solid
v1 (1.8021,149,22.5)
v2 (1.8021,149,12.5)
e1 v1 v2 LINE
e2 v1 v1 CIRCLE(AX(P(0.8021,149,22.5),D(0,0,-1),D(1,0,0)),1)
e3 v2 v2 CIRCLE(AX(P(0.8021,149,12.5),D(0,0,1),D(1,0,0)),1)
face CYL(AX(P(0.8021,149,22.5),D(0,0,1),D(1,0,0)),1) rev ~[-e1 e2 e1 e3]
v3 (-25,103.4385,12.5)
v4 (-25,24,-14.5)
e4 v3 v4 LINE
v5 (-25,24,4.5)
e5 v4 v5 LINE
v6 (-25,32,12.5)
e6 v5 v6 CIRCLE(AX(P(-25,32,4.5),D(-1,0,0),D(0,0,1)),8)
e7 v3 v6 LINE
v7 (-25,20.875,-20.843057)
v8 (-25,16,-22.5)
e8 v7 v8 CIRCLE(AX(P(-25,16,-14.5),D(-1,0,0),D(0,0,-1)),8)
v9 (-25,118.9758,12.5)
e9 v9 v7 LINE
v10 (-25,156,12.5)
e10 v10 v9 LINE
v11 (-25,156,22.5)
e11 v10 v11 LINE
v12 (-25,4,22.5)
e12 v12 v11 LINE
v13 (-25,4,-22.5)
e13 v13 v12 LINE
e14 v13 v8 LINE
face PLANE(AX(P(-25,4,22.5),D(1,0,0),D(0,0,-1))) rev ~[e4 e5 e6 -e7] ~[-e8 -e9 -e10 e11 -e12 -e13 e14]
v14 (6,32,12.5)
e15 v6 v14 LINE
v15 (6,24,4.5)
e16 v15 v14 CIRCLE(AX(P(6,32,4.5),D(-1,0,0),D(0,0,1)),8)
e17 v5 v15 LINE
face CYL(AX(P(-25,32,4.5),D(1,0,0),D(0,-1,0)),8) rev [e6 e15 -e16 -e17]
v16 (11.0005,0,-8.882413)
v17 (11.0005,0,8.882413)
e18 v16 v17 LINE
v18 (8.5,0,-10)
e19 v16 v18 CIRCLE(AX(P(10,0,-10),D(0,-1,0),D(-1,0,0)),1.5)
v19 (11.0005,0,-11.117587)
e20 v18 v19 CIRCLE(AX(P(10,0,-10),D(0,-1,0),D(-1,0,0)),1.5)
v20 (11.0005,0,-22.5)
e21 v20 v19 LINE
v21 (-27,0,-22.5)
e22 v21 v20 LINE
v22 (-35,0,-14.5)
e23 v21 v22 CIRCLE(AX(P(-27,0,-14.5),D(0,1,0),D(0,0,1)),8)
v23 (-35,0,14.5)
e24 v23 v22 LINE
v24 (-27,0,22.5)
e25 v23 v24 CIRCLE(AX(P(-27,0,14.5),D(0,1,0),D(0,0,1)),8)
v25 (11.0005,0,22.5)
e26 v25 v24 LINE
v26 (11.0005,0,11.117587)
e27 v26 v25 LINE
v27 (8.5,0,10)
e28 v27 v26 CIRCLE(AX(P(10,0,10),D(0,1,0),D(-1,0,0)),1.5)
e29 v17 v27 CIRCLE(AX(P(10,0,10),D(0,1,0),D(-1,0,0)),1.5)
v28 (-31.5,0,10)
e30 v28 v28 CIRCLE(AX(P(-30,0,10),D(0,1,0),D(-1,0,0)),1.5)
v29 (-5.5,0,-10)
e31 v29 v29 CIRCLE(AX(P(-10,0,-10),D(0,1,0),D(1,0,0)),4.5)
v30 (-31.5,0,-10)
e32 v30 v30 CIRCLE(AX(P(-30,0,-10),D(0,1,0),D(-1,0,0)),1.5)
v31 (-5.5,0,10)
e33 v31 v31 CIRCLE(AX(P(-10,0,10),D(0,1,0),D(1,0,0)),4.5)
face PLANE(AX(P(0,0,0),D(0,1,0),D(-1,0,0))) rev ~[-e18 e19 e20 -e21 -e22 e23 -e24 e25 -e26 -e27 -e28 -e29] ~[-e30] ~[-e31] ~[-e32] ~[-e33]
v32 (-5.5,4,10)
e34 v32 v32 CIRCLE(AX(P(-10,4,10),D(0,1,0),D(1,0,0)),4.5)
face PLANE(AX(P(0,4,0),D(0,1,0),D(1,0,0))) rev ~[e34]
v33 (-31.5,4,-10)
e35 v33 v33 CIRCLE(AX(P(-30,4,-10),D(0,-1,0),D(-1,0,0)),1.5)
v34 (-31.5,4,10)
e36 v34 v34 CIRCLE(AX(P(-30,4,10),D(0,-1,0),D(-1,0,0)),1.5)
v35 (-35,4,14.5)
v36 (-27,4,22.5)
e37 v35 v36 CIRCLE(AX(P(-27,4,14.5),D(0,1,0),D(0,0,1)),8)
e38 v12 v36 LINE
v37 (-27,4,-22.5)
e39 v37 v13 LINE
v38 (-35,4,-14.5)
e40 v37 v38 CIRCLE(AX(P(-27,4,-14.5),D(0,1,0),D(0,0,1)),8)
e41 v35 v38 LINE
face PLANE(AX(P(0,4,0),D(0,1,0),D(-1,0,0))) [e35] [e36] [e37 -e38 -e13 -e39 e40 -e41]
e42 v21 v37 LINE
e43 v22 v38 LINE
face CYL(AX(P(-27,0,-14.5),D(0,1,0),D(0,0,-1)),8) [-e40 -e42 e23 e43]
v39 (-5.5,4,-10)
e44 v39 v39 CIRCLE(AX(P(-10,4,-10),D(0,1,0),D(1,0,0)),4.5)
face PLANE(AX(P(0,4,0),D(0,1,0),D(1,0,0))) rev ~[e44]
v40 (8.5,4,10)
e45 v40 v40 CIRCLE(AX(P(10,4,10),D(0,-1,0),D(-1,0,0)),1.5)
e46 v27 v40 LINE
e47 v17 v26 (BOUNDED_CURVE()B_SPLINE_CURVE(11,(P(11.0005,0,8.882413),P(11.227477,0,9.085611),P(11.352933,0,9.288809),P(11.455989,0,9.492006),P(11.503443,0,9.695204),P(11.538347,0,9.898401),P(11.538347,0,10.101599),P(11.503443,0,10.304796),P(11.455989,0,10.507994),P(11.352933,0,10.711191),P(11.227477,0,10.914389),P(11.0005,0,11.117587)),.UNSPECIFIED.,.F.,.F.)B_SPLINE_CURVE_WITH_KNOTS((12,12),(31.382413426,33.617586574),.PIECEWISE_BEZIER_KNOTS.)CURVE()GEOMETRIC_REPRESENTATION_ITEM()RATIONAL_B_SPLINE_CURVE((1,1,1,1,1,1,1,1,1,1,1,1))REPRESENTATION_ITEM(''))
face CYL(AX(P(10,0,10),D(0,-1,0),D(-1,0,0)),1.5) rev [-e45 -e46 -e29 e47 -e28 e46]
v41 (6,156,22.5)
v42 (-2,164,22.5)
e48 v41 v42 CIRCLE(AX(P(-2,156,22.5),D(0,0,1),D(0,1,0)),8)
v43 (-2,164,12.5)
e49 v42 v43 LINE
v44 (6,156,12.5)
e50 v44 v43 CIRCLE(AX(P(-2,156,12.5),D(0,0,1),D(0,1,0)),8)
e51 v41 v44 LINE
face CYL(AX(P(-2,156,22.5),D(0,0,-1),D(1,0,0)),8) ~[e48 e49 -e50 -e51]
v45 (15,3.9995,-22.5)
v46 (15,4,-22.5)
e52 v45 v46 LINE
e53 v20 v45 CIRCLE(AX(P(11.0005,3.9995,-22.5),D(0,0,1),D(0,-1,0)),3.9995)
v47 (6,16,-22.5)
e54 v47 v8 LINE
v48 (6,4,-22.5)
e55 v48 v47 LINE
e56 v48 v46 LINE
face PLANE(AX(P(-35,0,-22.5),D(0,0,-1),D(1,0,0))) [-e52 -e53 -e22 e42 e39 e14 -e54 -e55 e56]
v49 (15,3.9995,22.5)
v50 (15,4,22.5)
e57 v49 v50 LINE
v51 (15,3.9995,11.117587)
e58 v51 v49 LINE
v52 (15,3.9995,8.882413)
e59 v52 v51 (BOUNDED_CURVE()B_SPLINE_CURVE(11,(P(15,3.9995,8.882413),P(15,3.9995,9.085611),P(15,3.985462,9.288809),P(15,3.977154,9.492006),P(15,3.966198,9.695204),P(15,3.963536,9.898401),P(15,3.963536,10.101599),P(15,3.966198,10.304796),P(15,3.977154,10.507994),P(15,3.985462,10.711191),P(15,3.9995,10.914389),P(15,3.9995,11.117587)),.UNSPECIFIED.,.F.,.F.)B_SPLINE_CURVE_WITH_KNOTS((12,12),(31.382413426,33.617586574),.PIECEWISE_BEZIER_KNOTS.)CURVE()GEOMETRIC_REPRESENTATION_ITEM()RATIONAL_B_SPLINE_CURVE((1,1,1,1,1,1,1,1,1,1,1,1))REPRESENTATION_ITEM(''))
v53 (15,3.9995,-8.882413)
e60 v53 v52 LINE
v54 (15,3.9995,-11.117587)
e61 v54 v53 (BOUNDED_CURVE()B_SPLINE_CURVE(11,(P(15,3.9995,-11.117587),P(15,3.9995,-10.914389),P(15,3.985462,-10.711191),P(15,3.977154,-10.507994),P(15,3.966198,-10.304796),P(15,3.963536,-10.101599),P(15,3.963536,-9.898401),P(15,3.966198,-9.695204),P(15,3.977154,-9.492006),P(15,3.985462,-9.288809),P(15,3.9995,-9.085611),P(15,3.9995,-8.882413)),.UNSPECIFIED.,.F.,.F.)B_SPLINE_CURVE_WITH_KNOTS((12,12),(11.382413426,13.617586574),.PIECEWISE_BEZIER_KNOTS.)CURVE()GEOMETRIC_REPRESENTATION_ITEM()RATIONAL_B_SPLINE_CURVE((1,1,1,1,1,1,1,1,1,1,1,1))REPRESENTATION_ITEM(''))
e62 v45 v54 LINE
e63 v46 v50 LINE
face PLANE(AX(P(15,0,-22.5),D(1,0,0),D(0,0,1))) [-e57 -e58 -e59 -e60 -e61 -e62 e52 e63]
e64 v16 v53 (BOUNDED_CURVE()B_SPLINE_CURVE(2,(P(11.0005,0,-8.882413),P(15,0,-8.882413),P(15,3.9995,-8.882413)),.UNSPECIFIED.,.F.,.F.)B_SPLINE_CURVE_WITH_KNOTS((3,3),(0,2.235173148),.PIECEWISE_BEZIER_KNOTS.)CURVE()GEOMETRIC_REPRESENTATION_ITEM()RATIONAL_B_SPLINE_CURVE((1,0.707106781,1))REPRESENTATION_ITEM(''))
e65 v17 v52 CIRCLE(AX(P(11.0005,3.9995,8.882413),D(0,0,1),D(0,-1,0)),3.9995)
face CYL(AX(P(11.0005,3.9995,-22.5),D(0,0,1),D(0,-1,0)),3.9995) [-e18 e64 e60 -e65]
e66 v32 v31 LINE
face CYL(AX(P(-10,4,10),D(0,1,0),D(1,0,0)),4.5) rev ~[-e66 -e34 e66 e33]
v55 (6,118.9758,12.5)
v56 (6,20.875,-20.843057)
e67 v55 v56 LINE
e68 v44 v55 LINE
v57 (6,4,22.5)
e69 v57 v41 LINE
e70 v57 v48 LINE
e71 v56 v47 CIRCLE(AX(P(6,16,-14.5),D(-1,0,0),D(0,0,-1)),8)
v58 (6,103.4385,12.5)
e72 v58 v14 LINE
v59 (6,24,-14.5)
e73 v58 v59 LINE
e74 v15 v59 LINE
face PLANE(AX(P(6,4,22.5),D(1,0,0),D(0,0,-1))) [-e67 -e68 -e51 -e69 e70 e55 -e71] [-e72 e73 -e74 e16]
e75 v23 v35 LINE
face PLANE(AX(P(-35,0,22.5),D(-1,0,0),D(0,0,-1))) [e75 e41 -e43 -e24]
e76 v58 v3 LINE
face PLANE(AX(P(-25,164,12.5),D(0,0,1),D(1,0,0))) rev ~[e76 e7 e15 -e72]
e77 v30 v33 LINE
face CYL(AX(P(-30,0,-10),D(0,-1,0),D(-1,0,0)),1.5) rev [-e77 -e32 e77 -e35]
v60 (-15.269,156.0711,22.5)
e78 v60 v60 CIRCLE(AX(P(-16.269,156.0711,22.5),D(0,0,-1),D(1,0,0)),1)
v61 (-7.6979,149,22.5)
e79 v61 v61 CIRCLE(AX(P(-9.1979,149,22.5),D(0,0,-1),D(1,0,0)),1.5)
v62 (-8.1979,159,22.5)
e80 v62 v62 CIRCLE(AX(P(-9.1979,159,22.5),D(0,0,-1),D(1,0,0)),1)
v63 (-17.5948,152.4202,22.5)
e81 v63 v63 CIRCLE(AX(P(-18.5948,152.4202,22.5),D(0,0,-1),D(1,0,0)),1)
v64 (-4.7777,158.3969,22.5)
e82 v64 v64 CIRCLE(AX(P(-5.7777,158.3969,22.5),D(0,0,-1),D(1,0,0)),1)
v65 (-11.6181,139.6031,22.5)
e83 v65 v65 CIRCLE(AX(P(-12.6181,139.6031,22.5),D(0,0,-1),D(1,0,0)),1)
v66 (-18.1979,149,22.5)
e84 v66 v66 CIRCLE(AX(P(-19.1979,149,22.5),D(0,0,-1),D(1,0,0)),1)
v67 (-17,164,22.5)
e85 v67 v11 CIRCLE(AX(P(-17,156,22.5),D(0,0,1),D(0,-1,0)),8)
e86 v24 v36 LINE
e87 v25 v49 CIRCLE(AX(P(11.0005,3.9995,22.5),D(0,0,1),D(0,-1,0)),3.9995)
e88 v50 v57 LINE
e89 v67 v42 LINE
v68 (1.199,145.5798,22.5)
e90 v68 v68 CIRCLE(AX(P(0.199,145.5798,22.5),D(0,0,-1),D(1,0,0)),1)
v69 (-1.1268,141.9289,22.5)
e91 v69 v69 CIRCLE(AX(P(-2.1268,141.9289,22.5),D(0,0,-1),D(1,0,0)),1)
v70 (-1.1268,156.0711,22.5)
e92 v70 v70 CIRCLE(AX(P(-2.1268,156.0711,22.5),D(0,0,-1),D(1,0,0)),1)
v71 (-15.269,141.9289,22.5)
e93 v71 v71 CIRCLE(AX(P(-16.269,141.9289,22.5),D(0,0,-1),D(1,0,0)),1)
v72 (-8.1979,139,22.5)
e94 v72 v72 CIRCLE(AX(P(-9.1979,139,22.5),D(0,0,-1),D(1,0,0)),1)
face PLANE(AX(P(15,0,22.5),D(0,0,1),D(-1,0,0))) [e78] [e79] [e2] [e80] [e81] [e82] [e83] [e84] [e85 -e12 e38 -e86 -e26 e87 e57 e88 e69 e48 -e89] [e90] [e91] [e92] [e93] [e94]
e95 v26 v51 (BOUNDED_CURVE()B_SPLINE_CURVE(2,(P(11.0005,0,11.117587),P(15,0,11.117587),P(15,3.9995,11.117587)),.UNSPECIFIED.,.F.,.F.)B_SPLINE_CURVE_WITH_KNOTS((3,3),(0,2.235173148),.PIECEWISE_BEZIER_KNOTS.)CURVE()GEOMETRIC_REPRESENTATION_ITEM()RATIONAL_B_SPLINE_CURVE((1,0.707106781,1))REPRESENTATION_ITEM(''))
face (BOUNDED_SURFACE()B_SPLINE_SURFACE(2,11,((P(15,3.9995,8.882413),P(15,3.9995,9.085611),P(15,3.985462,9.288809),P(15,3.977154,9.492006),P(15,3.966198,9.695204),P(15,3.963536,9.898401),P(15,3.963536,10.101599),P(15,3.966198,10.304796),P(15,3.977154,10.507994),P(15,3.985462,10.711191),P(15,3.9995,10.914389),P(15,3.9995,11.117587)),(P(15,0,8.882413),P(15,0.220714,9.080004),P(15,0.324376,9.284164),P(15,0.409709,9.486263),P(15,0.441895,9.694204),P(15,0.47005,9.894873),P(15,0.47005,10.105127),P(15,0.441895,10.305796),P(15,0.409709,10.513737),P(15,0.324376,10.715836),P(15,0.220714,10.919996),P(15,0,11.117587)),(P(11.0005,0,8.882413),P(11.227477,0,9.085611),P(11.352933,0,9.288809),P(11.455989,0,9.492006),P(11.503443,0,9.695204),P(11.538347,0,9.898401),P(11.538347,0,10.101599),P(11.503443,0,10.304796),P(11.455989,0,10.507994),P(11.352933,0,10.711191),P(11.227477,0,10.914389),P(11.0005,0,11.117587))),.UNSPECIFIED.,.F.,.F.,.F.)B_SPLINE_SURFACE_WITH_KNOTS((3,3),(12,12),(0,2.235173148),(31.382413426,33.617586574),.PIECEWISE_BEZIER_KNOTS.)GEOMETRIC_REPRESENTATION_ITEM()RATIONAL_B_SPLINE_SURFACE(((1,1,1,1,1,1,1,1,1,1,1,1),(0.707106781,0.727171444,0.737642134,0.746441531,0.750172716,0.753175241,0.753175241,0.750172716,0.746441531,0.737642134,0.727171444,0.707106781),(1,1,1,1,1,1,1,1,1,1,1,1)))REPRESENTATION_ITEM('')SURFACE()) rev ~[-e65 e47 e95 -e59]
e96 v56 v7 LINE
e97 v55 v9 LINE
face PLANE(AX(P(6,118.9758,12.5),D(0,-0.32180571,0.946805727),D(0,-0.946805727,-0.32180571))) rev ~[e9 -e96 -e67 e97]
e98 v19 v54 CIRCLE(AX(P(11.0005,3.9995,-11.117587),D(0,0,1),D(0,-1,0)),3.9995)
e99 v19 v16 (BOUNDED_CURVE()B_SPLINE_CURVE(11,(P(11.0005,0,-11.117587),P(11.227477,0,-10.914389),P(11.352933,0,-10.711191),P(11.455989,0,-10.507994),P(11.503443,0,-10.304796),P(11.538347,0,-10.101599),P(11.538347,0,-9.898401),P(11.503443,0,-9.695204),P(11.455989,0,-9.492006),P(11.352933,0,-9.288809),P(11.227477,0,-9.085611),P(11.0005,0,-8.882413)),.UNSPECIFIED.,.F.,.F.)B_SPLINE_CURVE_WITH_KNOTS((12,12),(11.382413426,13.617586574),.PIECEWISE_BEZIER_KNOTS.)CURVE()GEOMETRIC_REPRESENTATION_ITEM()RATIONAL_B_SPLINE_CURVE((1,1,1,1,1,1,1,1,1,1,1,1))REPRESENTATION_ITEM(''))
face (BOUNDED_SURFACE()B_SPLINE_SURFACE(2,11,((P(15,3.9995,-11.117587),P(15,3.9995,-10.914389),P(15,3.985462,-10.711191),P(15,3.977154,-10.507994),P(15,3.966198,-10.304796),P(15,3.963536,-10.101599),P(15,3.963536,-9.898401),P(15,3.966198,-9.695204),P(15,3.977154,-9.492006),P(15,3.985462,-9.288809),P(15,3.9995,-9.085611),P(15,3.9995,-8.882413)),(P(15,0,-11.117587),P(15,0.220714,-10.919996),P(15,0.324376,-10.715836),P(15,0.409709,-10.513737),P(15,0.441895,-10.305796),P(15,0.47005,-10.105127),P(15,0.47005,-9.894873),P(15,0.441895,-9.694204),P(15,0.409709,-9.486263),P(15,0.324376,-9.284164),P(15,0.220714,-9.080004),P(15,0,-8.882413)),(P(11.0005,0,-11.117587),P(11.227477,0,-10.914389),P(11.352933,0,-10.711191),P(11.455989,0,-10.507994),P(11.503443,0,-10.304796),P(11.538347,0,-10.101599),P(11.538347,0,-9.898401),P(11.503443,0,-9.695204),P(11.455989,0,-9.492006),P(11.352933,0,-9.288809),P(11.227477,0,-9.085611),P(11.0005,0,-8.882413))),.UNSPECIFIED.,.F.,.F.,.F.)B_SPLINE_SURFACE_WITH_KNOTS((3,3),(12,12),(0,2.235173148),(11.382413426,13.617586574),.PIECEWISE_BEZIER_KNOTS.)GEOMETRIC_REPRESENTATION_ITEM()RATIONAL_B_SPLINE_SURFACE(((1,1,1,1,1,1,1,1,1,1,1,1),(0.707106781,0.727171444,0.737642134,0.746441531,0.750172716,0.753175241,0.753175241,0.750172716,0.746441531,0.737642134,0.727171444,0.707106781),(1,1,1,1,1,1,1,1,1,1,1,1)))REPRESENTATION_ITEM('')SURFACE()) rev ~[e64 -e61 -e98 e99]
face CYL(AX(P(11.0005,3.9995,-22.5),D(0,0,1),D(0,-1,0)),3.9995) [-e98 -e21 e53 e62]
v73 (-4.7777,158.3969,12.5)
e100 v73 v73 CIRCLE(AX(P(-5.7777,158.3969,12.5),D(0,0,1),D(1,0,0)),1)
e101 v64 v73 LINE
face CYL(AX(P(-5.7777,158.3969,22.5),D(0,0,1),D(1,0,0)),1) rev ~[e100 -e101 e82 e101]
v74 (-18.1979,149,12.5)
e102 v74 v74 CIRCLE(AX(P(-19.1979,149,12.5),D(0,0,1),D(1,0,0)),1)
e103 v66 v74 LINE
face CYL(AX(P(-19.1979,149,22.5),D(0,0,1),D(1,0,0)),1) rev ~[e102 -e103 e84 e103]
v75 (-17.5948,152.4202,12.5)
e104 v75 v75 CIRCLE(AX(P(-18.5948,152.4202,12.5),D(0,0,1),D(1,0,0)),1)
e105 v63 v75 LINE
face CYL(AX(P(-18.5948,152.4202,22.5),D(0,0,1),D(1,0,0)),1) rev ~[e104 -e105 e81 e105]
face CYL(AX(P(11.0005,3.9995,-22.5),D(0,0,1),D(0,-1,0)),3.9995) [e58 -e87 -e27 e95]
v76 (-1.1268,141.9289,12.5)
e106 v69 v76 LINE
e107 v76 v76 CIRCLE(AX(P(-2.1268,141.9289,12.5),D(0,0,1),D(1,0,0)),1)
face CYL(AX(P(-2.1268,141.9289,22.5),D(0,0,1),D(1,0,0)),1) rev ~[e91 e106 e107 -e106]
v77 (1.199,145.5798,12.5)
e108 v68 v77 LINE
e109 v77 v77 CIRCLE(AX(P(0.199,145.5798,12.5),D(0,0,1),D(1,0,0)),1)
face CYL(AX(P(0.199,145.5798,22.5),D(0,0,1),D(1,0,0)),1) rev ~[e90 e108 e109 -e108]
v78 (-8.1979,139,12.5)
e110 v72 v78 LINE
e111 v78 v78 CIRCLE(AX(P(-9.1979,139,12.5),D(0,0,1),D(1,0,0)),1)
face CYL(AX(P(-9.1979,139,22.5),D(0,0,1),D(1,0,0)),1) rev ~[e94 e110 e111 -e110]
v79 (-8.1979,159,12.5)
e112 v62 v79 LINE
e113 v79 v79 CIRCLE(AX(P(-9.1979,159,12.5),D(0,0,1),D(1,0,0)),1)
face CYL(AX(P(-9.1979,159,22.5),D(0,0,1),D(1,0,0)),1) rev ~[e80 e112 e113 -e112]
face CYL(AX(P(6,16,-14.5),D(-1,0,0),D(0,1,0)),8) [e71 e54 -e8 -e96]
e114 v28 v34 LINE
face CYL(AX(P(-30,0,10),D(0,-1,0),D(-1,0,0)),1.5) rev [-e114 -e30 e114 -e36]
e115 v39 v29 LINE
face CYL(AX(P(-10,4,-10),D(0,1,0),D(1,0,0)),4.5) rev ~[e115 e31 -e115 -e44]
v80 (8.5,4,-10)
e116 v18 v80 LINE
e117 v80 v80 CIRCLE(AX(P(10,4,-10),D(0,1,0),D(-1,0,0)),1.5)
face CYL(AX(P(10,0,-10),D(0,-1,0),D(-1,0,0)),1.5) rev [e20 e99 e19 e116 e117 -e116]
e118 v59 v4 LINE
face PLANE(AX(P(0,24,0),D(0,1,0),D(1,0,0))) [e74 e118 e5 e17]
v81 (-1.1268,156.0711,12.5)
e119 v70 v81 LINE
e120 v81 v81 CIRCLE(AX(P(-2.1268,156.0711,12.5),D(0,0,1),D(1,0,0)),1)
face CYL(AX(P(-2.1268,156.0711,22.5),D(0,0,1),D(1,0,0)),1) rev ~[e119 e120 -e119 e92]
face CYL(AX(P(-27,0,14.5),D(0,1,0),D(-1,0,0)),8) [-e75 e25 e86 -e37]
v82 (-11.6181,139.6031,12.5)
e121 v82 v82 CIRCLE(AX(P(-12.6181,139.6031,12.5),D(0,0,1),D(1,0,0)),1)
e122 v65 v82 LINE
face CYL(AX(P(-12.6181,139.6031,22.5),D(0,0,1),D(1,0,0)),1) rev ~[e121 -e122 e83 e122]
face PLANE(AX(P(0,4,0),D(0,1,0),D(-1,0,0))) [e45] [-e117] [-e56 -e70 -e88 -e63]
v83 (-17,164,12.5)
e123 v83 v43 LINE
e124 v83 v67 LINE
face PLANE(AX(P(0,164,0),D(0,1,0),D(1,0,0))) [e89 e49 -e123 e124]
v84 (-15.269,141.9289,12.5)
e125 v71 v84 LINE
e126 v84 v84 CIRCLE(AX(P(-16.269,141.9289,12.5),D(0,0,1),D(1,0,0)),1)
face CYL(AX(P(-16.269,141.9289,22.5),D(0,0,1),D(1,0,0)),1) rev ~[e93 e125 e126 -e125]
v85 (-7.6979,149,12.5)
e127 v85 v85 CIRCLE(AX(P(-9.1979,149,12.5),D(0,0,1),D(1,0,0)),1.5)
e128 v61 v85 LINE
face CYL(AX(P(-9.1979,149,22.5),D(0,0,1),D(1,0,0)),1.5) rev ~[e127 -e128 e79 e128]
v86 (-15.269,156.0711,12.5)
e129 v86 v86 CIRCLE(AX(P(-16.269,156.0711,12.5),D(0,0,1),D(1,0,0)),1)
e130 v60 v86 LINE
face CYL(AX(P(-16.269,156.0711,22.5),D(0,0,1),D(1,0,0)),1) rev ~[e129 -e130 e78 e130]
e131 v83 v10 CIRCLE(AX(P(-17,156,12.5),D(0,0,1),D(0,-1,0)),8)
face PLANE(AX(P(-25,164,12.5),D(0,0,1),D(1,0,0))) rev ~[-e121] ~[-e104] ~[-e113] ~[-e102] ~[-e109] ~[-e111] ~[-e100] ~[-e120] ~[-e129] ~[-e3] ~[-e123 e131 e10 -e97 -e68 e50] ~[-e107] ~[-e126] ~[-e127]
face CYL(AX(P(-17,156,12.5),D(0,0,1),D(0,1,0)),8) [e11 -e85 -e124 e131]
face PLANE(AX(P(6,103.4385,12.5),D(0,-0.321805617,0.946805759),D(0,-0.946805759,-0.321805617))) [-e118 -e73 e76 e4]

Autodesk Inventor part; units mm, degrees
ref_plane "YZ Plane" through (0, 0, 0) normal (1, 0, 0) x (0, 1, 0)
ref_plane "XZ Plane" through (0, 0, 0) normal (0, 1, 0) x (-1, 0, 0)
ref_plane "XY Plane" through (0, 0, 0) normal (0, 0, 1) x (1, 0, 0)
sketch "Sketch1" plane through (0, 0, 0) normal (0, 1, 0) x (-1, 0, 0)
  line L0 (-10, -10) -> (10, -10)
  line L1 (10, -10) -> (10, 10)
  line L2 (10, 10) -> (-10, 10)
  line L3 (-10, 10) -> (-10, -10)
  line L4 (-10, -10) -> (10, 10) construction
  line L5 (10, -10) -> (-10, 10) construction
  line L6 (10, 10) -> (30, 10)
  line L7 (30, 10) -> (30, -10)
  line L8 (30, -10) -> (10, -10)
  line L9 (10, -10) -> (10, 10)
  circle A0 centre (30, 10) radius 1.5
  circle A1 centre (30, -10) radius 1.5
  circle A2 centre (10, -10) radius 1.5
  circle A3 centre (10, 10) radius 1.5
  circle A4 centre (-10, 10) radius 1.5
  circle A5 centre (-10, -10) radius 1.5
  line L10 (-15, 22.5) -> (35, 22.5)
  line L11 (35, 22.5) -> (35, -22.5)
  line L12 (35, -22.5) -> (-15, -22.5)
  line L13 (-15, -22.5) -> (-15, 22.5)
  line L14 (-15, 22.5) -> (35, -22.5) construction
  line L15 (35, 22.5) -> (-15, -22.5) construction
  point P0 (0, 0)
  point P1 (10, 0)
  dimension "d0" = 20
  dimension "d1" = 20
  dimension "d2" = 20
  dimension "d3" = 20
  dimension "d4" = 3
  dimension "d5" = 3
  dimension "d6" = 3
  dimension "d7" = 3
  dimension "d8" = 3
  dimension "d9" = 3
  dimension "d10" = 5
  dimension "d11" = 12.5
extrude "Extrusion1" add sketch "Sketch1" along normal blind 4 contours A5 L3 A4 L2 A3 L1 A2 L0 | L1 A3 L6 A0 L7 A1 L8 A2 | L10 L11 L12 L13
fillet "Fillet1" radius 4 1 edges at (15, 0, 0)
sketch "Sketch2" plane through (0, 4, 0) normal (0, 1, 0) x (1, 0, 0)
  line L0 (-35, -22.5) -> (15, -22.5) projected
  line L1 (15, 22.5) -> (-35, 22.5) projected
  line L2 (-25, -22.5) -> (6, -22.5)
  line L3 (6, -22.5) -> (6, 22.5)
  line L4 (6, 22.5) -> (-25, 22.5)
  line L5 (-25, 22.5) -> (-25, -22.5)
  line L6 (-35, 22.5) -> (-35, -22.5) projected
  line L7 (15, -22.5) -> (15, 22.5) projected
  circle A0 centre (-10, -10) radius 1.5 projected
  circle A1 centre (-10, -10) radius 4.5
  circle A2 centre (-10, 10) radius 1.5 projected
  circle A3 centre (-10, 10) radius 4.5
  point P0 (0, 0)
  point P1 (-6.25, -15)
  point P2 (-13.75, -15)
  point P3 (-13.75, 15)
  point P4 (-6.25, 15)
  dimension "d15" = 10
  dimension "d16" = 9
  dimension "d17" = 9
  dimension "d18" = 9
extrude "Extrusion2" cut sketch "Sketch2" against normal blind 4 contours A0 | A1 | A3
extrude "Extrusion3" add sketch "Sketch2" along normal blind 160 contours L5 L1 L3 L0 | A0 | A1 | A2 | A3
fillet "Fillet2" radius 8 2 edges at (-35, 2, 22.5) (-35, 2, -22.5)
sketch "Sketch3" plane through (-25, 164, 22.5) normal (0, 0, 1) x (1, 0, 0)
  line L0 (31, 0) -> (0, 0) projected
  circle A0 centre (15.8021, -15) radius 10
  circle A1 centre (15.8021, -5) radius 1
  circle A2 centre (19.2223, -5.6031) radius 1
  circle A3 centre (22.8732, -7.9289) radius 1
  line L1 (15.8021, -15) -> (19.2223, -5.6031)
  line L2 (15.8021, -15) -> (22.8732, -7.9289)
  circle A4 centre (5.8021, -15) radius 1
  circle A5 centre (15.8021, -25) radius 1
  circle A6 centre (25.8021, -15) radius 1
  circle A7 centre (6.4052, -11.5798) radius 1
  circle A8 centre (12.3819, -24.3969) radius 1
  circle A9 centre (25.199, -18.4202) radius 1
  circle A10 centre (8.731, -7.9289) radius 1
  circle A11 centre (8.731, -22.0711) radius 1
  circle A12 centre (22.8732, -22.0711) radius 1
  line L3 (15.8021, -15) -> (15.8021, 0)
  point P0 (25, -164)
  dimension "d24" = 20
  dimension "d26" = 2
  dimension "d27" = 2
  dimension "d30" = 2
  dimension "d33" = 360
  dimension "d37" = 360
  dimension "d41" = 360
  dimension "d54" = 15
  dimension "d55" = 45
  dimension "d56" = 20
extrude "Extrusion4" cut sketch "Sketch3" against normal blind 100 contours A0 A6 | A0 A6 | A3 L2 A0 | A0 A3 | A9 A0 | A0 A9 | L2 A3 A0 | A12 A0 | A0 A12 | A2 L1 A0 | A0 A2 | A2 A0 L1 | L3 A0 A1 | A1 A0 L3 | A1 L3 A0 | A0 L3 A1 | A5 A0 | A0 A5 | A10 A0 | A0 A10 | A8 A0 | A0 A8 | A7 A0 | A0 A7 | A11 A0 | A0 A11 | A4 A0 | A0 A4
sketch "Sketch4" plane through (0, 164, 0) normal (0, 1, 0) x (1, 0, 0)
  line L0 (-25, 22.5) -> (-25, -22.5) projected
  line L1 (6, 22.5) -> (-25, 22.5) projected
  line L2 (-25, -12.5) -> (6, -12.5)
  line L3 (6, -12.5) -> (6, 22.5)
  line L4 (6, 22.5) -> (-25, 22.5)
  line L5 (-25, 22.5) -> (-25, -12.5)
  line L6 (-25, -22.5) -> (6, -22.5) projected
  point P0 (0, 0)
  dimension "d45" = 10
extrude "Extrusion5" cut sketch "Sketch4" against normal blind 140
fillet "Fillet3" radius 8 1 edges at (-9.5, 24, 12.5)
fillet "Fillet4" radius 8 2 edges at (-25, 164, 17.5) (6, 164, 17.5)
fillet "Fillet5" radius 8 1 edges at (-9.5, 24, -22.5)
sketch "Sketch5" plane through (6, 4, 22.5) normal (1, 0, 0) x (0, 0, -1)
  line L0 (10, 28) -> (10, 152) projected
  line L1 (18, 20) -> (37, 20) projected
  line L2 (10, 99.4385) -> (37, 20)
  arc A0 (45, 12) -> (37, 20) centre (37, 12) ccw projected
  line L3 (10, 114.9758) -> (45, 12)
  arc A1 (45, 12) -> (37, 20) centre (37, 12) ccw projected
  line L4 (37, 20) -> (18, 20) projected
  arc A2 (10, 28) -> (18, 20) centre (18, 28) ccw projected
  line L5 (10, 28) -> (10, 152) projected
  line L6 (0, 152) -> (10, 152) projected
  line L7 (0, 0) -> (0, 152) projected
  line L8 (45, 0) -> (0, 0) projected
  line L9 (45, 0) -> (45, 12) projected
  point P0 (22.5, -4)
  point P1 (43.3431, 16.875)
  dimension "d51" = 5
extrude "Extrusion6" add sketch "Sketch5" against normal up to surface (31 mm away) contours L0 L3 A0 L2
sketch "Sketch6" plane through (6, 4, 22.5) normal (0, 0, 1) x (1, 0, 0)
  circle A0 centre (-15.1979, 155) radius 1 projected
  circle A1 centre (-15.1979, 135) radius 1 projected
  line L0 (-15.1979, 155) -> (-15.1979, 135)
  circle A2 centre (-15.1979, 145) radius 1.5
  point P0 (-6, -4)
  dimension "d57" = 3
extrude "Extrusion7" cut sketch "Sketch6" against normal blind 20 contours A2 L0 | L0 A2
properties part number "Vertical_Stereo_1"
